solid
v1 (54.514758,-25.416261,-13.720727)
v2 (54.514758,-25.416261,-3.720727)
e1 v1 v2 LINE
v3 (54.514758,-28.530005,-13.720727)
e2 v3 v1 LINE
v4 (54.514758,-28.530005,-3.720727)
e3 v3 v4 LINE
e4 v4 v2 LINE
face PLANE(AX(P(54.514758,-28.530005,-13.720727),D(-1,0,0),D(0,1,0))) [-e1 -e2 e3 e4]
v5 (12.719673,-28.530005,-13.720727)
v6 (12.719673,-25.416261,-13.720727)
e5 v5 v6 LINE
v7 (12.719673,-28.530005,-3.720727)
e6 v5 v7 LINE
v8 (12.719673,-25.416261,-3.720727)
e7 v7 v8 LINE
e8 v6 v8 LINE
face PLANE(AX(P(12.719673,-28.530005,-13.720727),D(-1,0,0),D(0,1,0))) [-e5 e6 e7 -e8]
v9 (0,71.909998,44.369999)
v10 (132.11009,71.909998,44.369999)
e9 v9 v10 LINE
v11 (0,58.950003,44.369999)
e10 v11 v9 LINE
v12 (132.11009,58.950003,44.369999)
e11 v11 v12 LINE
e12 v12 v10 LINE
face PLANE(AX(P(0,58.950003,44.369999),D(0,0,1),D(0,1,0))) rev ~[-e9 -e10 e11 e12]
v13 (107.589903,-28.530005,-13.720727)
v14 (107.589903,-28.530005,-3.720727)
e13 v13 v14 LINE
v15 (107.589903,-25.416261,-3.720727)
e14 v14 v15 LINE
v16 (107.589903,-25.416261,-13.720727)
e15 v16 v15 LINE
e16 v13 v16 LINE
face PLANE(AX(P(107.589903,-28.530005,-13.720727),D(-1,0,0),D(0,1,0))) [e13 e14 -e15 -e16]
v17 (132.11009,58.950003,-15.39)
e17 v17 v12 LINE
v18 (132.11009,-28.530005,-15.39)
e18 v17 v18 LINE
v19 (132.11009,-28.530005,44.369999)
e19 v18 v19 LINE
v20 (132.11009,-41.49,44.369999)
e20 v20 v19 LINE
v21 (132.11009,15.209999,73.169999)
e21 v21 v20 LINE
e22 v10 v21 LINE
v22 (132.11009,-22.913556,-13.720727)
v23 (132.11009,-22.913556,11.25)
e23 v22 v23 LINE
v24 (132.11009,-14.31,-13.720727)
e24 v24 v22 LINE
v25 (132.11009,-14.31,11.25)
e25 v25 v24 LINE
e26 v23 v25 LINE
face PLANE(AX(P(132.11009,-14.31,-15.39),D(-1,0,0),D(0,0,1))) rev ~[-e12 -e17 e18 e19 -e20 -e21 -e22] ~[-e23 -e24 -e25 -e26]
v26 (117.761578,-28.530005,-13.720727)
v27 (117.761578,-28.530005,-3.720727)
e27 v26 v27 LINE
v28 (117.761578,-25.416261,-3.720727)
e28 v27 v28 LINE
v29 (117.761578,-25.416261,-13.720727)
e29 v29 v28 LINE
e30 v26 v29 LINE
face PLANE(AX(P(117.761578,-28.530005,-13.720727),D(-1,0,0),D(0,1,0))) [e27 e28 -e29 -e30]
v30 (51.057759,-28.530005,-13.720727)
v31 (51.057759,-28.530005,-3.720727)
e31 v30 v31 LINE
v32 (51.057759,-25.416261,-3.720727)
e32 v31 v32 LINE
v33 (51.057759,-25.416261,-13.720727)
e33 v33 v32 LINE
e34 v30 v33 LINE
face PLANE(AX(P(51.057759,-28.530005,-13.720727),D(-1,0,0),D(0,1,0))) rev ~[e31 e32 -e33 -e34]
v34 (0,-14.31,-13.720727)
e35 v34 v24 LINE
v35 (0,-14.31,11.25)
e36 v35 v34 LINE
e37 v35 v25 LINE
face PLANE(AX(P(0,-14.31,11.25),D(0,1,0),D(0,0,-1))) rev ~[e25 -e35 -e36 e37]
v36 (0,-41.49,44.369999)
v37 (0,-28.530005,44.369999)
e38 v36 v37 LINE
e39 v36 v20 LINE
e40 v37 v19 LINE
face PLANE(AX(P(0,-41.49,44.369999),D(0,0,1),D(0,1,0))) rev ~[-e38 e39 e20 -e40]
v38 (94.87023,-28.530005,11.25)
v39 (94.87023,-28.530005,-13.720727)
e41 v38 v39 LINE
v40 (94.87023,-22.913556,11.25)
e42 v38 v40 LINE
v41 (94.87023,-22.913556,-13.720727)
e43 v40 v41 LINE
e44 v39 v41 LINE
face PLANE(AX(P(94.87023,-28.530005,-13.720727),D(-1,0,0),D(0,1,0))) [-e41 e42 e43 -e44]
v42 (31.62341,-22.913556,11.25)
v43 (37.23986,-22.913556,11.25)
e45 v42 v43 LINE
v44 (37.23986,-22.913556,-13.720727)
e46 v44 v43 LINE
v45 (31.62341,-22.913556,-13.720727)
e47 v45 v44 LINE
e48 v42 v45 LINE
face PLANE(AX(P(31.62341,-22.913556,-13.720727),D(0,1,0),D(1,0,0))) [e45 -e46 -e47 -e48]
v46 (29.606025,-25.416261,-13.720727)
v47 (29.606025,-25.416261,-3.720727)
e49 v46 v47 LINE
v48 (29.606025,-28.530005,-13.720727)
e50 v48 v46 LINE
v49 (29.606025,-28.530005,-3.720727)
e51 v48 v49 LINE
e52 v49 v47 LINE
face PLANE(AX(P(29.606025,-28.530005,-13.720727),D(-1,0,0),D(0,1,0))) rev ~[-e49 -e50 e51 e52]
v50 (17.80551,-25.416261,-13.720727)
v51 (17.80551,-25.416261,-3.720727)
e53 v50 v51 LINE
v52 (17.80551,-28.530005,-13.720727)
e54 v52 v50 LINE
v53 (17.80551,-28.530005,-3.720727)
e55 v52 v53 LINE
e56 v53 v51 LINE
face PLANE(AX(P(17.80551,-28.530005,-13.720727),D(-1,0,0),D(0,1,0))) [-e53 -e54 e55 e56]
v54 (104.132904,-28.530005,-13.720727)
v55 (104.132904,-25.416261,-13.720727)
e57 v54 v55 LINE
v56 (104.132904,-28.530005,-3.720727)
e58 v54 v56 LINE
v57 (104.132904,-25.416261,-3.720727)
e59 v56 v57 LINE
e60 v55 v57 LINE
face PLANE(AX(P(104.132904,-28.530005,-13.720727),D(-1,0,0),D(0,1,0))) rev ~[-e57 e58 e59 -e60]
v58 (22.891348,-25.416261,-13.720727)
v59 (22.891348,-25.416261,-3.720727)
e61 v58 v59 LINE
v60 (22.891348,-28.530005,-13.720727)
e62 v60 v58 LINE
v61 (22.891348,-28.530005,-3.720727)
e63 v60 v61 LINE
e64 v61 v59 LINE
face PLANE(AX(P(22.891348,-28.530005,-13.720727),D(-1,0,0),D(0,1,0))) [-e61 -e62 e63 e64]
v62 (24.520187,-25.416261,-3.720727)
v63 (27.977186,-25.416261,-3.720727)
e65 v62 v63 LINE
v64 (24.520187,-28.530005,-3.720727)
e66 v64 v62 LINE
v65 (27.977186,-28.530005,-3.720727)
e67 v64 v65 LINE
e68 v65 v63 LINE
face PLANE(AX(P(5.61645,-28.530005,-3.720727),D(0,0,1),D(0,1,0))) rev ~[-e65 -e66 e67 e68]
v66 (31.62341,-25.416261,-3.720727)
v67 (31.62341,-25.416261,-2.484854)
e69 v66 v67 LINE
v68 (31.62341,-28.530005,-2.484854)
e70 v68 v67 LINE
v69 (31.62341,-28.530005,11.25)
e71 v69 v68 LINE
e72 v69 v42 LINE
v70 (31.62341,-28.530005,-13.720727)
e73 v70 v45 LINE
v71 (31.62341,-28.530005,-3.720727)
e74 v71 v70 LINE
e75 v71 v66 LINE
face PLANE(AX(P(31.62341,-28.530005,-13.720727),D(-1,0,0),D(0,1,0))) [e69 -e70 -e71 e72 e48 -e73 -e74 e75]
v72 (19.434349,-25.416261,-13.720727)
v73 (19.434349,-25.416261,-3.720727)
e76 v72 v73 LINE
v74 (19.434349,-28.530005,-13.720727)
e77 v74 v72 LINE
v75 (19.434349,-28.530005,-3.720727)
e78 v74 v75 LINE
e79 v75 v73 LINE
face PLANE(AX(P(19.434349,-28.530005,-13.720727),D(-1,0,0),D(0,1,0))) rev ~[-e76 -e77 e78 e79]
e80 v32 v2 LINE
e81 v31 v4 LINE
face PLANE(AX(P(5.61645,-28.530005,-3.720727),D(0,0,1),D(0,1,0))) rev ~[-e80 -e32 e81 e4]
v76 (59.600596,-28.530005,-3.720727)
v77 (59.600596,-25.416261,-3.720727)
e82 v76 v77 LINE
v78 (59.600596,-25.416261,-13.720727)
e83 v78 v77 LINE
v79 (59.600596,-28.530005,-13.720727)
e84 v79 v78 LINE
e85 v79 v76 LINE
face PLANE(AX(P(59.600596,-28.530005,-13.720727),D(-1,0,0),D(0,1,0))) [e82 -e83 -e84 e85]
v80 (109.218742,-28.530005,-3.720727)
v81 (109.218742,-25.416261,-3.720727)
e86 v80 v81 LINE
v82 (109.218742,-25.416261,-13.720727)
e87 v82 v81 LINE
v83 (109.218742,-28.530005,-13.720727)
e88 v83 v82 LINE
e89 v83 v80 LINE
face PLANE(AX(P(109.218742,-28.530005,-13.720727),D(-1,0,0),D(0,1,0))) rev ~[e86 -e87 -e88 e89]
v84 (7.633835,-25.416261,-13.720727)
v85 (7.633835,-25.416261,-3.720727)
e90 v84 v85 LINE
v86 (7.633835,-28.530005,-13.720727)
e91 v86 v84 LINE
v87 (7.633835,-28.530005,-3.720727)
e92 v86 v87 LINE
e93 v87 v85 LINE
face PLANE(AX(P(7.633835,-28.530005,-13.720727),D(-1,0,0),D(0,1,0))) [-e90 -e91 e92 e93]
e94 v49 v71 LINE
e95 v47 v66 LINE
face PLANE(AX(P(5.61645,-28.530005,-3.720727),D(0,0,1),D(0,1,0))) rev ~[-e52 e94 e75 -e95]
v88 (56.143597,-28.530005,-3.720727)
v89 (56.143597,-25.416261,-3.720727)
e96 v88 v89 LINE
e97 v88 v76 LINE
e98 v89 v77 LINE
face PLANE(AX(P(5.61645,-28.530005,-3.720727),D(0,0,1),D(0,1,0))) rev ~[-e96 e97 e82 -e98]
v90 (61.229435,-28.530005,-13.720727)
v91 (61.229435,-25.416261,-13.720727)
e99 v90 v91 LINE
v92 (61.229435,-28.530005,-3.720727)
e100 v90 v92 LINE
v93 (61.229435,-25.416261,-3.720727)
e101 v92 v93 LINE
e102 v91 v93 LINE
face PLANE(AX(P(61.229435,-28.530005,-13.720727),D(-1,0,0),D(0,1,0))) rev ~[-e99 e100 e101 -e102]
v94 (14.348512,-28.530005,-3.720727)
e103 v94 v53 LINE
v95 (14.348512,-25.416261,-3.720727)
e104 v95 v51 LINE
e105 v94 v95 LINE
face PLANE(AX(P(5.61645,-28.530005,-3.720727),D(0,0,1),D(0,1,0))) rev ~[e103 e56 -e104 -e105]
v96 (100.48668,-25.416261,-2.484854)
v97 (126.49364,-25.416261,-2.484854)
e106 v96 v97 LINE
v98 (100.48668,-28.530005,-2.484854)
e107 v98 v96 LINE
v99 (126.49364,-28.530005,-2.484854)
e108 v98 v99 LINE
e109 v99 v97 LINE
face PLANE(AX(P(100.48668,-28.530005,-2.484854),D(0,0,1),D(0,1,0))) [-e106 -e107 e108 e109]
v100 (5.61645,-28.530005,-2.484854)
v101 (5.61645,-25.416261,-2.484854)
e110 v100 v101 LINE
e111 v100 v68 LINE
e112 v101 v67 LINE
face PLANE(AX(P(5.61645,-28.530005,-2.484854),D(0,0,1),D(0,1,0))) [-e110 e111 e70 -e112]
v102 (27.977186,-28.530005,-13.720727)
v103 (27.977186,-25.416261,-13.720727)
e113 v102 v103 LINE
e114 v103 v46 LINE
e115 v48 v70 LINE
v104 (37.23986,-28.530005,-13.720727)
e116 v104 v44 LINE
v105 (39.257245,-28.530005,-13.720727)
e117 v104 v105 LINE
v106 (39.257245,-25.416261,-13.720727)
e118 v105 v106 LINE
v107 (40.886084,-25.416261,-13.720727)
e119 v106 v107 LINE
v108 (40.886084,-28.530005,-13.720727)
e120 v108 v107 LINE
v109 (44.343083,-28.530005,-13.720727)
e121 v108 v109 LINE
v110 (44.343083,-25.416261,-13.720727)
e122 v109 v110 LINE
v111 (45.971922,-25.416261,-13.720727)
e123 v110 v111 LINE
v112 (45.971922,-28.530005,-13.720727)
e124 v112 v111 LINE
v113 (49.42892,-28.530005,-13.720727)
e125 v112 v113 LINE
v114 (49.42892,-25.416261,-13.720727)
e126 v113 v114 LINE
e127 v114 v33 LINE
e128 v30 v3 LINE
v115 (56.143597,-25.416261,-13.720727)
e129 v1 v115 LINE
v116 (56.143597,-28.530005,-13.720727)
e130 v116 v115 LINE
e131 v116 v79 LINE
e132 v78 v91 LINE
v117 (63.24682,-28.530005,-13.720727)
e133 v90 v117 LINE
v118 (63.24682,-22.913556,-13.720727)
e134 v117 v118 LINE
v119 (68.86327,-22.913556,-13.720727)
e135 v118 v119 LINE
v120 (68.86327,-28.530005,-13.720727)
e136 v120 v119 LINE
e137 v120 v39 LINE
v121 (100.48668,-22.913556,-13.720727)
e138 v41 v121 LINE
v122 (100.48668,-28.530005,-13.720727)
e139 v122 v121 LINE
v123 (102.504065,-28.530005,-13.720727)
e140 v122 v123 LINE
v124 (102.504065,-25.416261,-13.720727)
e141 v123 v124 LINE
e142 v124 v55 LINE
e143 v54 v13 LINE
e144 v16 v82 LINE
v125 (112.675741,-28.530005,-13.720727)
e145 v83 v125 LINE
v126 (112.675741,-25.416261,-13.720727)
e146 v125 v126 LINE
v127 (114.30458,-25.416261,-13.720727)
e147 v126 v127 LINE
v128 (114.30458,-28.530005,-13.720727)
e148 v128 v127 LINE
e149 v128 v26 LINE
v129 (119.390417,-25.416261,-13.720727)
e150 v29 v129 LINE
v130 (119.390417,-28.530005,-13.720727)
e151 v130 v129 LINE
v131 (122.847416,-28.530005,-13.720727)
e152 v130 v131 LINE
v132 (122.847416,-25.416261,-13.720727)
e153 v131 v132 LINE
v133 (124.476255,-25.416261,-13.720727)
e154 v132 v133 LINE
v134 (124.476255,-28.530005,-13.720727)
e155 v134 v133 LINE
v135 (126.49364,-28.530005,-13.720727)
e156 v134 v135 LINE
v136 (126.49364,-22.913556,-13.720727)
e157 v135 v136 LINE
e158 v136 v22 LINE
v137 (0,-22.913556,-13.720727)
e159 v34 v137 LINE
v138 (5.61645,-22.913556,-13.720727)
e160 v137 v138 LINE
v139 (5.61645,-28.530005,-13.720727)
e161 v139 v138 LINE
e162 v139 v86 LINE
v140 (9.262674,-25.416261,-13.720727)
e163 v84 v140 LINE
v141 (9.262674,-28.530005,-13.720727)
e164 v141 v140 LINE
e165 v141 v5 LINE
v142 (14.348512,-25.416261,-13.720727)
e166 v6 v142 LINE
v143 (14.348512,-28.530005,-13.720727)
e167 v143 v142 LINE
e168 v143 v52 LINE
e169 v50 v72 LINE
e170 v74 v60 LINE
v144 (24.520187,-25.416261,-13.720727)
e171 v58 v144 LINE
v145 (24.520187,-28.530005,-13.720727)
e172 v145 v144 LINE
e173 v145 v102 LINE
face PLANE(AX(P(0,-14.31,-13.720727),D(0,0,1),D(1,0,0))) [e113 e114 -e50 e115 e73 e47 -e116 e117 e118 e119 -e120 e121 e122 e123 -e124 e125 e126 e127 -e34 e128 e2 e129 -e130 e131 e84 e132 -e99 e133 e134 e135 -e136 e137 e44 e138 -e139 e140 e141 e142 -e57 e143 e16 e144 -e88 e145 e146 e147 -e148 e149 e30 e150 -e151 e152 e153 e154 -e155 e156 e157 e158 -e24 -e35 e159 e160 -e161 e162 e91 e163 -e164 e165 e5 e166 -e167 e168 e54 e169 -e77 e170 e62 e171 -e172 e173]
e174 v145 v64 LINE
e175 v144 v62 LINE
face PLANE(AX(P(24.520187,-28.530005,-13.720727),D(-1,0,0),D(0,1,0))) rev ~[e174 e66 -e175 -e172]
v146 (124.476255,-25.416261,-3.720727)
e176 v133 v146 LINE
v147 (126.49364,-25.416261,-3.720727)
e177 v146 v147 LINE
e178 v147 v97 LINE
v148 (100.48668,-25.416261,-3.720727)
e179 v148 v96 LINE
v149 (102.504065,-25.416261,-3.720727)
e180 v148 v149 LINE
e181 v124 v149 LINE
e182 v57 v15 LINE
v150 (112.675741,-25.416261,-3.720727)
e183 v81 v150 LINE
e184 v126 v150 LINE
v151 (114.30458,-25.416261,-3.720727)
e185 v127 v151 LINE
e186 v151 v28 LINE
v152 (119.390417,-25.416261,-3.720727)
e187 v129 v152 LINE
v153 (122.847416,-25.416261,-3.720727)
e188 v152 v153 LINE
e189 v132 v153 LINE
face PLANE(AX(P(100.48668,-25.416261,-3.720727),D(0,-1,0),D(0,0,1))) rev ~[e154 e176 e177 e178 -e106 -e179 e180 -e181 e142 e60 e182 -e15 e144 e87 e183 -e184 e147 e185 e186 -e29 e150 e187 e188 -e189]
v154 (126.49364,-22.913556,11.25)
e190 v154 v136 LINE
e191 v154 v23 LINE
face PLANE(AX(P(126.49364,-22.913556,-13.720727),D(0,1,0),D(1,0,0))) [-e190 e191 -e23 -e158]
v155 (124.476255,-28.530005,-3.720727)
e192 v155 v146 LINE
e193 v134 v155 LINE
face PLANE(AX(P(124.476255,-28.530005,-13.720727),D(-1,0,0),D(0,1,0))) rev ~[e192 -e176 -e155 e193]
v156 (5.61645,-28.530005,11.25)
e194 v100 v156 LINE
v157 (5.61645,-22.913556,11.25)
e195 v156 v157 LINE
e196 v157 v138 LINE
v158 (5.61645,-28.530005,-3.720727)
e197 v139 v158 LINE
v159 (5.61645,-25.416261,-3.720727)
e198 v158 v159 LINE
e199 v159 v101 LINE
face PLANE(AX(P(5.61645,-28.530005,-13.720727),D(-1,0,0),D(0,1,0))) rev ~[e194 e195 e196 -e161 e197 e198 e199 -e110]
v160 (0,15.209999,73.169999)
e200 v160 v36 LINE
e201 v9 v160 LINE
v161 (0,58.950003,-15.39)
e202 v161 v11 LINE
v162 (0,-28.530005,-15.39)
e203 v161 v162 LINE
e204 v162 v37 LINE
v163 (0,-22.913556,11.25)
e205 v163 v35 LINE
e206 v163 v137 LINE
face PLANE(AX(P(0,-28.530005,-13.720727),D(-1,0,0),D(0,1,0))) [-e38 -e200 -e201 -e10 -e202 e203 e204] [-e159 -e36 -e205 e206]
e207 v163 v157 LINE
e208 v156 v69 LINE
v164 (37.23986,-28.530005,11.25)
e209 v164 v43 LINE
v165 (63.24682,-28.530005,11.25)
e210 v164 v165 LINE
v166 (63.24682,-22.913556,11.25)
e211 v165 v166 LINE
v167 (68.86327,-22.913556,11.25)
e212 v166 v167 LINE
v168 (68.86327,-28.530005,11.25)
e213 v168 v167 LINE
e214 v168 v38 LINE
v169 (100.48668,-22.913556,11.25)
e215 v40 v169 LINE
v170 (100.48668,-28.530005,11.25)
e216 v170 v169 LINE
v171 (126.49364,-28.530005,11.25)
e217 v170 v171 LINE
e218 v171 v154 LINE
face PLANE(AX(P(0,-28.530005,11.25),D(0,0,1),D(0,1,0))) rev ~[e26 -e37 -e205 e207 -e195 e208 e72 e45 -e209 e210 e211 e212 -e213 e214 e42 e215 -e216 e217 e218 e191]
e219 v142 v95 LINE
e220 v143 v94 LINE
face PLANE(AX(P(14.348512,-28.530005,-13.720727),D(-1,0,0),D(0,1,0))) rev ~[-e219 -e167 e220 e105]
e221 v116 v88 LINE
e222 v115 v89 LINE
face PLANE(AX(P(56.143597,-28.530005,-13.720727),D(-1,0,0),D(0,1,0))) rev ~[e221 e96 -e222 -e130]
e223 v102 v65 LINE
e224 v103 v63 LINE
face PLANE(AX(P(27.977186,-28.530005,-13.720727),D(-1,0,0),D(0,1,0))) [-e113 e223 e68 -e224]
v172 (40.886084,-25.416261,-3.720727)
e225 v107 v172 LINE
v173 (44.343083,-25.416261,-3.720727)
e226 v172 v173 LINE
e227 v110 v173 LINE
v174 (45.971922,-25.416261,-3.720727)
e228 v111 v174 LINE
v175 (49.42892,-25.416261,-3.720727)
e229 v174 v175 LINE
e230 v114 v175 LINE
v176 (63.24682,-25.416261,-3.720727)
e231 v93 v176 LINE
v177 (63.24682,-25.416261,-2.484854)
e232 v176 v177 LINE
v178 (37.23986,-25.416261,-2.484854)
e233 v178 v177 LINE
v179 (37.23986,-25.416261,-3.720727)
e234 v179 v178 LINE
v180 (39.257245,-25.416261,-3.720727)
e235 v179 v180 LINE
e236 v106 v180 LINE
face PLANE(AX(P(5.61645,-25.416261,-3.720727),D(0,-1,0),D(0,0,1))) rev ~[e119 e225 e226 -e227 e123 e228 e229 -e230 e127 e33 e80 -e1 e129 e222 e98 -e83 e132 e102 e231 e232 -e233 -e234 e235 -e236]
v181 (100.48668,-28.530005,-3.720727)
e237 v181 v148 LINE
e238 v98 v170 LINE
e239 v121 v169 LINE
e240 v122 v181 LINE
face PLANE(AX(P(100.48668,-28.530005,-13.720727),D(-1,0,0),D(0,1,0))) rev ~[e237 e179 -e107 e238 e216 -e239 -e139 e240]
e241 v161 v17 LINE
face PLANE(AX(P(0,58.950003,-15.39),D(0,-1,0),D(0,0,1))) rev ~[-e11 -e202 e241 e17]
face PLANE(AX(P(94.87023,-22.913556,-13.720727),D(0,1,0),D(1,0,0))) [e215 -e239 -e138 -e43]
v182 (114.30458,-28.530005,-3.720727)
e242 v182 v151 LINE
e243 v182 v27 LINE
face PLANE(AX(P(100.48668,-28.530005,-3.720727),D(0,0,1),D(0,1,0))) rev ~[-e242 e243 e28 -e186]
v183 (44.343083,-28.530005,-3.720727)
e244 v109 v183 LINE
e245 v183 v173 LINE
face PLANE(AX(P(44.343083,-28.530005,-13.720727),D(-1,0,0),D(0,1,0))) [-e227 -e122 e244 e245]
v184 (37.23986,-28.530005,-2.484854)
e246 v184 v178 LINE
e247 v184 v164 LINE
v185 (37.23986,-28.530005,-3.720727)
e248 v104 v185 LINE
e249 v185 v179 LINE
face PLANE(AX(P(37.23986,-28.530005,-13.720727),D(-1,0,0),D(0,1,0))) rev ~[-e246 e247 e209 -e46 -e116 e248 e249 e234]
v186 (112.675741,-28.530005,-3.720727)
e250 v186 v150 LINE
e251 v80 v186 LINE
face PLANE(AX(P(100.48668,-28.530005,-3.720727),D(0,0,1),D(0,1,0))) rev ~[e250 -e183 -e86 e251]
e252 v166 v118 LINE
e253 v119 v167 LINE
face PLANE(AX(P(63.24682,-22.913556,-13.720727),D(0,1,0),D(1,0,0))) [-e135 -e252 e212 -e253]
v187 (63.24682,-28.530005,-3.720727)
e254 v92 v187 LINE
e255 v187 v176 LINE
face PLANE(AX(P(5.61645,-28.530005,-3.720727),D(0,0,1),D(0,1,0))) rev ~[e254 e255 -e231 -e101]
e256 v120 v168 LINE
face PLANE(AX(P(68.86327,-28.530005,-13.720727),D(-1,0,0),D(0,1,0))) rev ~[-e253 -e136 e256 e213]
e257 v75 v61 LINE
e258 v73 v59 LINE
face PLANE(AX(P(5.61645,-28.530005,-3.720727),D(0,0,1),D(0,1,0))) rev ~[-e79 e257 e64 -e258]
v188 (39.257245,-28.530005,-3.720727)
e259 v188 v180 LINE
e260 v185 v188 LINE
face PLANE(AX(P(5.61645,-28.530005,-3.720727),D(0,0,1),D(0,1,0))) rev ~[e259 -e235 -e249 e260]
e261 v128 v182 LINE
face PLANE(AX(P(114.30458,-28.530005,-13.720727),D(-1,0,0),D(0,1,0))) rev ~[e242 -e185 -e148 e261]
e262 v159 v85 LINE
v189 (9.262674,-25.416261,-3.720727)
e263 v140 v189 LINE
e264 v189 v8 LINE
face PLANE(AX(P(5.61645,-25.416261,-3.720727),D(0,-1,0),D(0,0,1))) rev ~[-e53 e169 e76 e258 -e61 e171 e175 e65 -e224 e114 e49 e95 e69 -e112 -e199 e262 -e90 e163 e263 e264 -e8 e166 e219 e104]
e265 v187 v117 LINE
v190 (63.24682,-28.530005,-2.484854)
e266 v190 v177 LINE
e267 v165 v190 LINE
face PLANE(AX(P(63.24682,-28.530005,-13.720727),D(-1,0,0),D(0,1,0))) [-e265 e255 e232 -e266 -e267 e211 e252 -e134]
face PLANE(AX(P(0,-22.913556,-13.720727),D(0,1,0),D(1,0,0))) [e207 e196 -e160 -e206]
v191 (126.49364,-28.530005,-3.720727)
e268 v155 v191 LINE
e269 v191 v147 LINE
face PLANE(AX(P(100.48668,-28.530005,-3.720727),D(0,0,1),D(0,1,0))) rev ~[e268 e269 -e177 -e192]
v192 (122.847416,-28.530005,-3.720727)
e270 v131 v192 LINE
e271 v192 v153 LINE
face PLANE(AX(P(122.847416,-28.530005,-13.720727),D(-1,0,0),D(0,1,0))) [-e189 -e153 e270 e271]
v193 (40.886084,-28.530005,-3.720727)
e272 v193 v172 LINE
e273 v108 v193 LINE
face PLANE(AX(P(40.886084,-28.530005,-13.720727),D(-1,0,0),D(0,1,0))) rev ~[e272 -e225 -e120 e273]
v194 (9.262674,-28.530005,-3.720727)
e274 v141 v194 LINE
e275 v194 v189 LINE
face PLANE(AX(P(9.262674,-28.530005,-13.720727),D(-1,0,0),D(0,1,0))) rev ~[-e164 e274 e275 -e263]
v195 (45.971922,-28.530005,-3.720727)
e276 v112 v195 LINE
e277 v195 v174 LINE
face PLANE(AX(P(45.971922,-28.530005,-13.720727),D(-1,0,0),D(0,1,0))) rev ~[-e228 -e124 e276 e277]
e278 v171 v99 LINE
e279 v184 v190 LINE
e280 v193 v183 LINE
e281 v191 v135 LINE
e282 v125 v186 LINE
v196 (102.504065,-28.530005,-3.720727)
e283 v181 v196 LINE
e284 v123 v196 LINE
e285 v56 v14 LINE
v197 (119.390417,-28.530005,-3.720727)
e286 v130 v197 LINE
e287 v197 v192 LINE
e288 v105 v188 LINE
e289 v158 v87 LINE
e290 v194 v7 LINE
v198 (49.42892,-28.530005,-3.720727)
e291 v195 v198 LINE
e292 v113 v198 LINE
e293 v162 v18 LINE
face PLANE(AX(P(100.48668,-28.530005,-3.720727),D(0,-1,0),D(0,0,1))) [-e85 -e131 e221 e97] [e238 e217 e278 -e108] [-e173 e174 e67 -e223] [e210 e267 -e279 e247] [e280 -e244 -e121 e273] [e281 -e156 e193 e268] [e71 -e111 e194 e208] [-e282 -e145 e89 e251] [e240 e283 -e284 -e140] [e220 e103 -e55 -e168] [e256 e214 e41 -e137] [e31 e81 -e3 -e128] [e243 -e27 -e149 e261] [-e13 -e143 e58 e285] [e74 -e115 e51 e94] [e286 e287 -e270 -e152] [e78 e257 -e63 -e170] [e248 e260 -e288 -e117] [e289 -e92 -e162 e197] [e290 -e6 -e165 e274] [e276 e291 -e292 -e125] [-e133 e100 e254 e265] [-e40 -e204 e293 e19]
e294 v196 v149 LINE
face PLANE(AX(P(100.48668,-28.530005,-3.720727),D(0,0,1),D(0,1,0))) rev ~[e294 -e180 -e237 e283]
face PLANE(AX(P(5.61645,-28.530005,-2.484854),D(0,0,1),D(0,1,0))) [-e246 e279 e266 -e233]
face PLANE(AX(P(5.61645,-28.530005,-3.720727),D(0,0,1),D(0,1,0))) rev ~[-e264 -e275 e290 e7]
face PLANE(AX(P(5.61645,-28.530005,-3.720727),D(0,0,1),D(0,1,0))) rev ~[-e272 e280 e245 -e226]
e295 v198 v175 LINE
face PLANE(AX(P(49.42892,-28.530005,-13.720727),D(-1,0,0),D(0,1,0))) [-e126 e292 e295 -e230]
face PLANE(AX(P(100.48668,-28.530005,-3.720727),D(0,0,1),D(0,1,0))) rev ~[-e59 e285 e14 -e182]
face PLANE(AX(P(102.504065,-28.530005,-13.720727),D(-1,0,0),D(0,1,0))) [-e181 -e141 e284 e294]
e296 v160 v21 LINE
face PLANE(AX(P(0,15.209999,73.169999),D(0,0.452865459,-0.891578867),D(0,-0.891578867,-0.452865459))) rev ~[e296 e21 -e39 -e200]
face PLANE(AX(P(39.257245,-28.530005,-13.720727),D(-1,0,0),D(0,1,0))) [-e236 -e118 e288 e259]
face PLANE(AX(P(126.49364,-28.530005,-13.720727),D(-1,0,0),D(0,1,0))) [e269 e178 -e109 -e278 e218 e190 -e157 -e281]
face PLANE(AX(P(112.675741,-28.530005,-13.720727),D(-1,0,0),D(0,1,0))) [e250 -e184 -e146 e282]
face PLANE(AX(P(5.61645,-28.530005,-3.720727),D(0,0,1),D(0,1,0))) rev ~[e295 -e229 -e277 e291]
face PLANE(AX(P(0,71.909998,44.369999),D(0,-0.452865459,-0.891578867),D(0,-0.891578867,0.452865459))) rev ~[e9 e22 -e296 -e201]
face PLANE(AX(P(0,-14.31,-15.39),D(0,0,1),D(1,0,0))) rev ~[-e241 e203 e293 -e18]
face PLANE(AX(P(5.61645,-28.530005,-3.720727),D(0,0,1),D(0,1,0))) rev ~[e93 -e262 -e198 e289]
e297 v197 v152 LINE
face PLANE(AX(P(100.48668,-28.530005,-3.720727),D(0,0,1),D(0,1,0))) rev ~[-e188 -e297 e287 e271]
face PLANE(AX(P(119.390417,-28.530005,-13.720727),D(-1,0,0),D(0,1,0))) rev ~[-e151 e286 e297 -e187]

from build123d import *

# Parameters (mm, degrees)
F1_DEPTH  = 132.11009
F2_W      = 132.11009
F2_H      = 1.6692737117
F3_DEPTH  = 14.2200058326
F4_W      = 5.6164497176
F4_H      = 5.6164497176
F5_DEPTH  = 24.97072611
F4_W_2    = 1.6288390616
F4_H_2    = 3.1137447804
F6_DEPTH  = 10
F7_W      = 3.1137447804
F7_H      = 1.2358725164
F8_DEPTH  = 57.6303704236
F9_W      = 3.1137447804
F9_H      = 1.2358725164
F10_DEPTH = 26.006960353


with BuildPart() as f1:
    # F0 (on Right) → F1 (new body)
    with BuildSketch(Plane.YZ):
        Polygon((-41.4899997413, 44.3699993193), (-28.5300053656, 44.3699993193), (58.9500032365, 44.3699993193), (71.9099976122, 44.3699993193), (15.2099989355, 73.1699988246), align=None)
        Polygon((-14.309999533, 11.2499995157), (-14.309999533, -15.3900003061), (58.9500032365, -15.3900003061), (58.9500032365, 44.3699993193), (-28.5300053656, 44.3699993193), (-28.5300053656, 11.2499995157), align=None)
    extrude(amount=F1_DEPTH)

    # F2 (on face) → F3 (join, through all)
    with BuildSketch(Plane.XZ.offset(14.309999533)):
        with Locations((66.055045, -14.5553634502)):
            Rectangle(F2_W, F2_H)
    extrude(amount=F3_DEPTH)

    # F4 (on face) → F5 (join, through all)
    with BuildSketch(Plane.XY.offset(-13.7207265943)):
        with Locations((2.8082248588, -25.7217805068)):
            Rectangle(F4_W, F4_H)
        with Locations((34.4316349294, -25.7217805068)):
            Rectangle(F4_W, F4_H)
        with Locations((66.055045, -25.7217805068)):
            Rectangle(F4_W, F4_H)
        with Locations((97.6784550706, -25.7217805068)):
            Rectangle(F4_W, F4_H)
        with Locations((129.3018651412, -25.7217805068)):
            Rectangle(F4_W, F4_H)
    extrude(amount=F5_DEPTH)

    # F4 (on face) → F6 (join)
    with BuildSketch(Plane.XY.offset(-13.7207265943)):
        with Locations((2.8082248588, -25.7217805068)):
            Rectangle(F4_W, F4_H)
        with Locations((34.4316349294, -25.7217805068)):
            Rectangle(F4_W, F4_H)
        with Locations((66.055045, -25.7217805068)):
            Rectangle(F4_W, F4_H)
        with Locations((97.6784550706, -25.7217805068)):
            Rectangle(F4_W, F4_H)
        with Locations((129.3018651412, -25.7217805068)):
            Rectangle(F4_W, F4_H)
        with Locations((8.4482542712, -26.9731329754)):
            Rectangle(F4_W_2, F4_H_2)
        with Locations((13.5340920827, -26.9731329754)):
            Rectangle(F4_W_2, F4_H_2)
        with Locations((18.6199298941, -26.9731329754)):
            Rectangle(F4_W_2, F4_H_2)
        with Locations((23.7057677055, -26.9731329754)):
            Rectangle(F4_W_2, F4_H_2)
        with Locations((28.791605517, -26.9731329754)):
            Rectangle(F4_W_2, F4_H_2)
        with Locations((45.1575021533, -26.9731329754)):
            Rectangle(F4_W_2, F4_H_2)
        with Locations((50.2433399647, -26.9731329754)):
            Rectangle(F4_W_2, F4_H_2)
        with Locations((55.3291777761, -26.9731329754)):
            Rectangle(F4_W_2, F4_H_2)
        with Locations((60.4150155876, -26.9731329754)):
            Rectangle(F4_W_2, F4_H_2)
        with Locations((40.0716643418, -26.9731329754)):
            Rectangle(F4_W_2, F4_H_2)
        with Locations((108.4043222945, -26.9731329754)):
            Rectangle(F4_W_2, F4_H_2)
        with Locations((113.4901601059, -26.9731329754)):
            Rectangle(F4_W_2, F4_H_2)
        with Locations((118.5759979173, -26.9731329754)):
            Rectangle(F4_W_2, F4_H_2)
        with Locations((123.6618357288, -26.9731329754)):
            Rectangle(F4_W_2, F4_H_2)
        with Locations((103.318484483, -26.9731329754)):
            Rectangle(F4_W_2, F4_H_2)
    extrude(amount=F6_DEPTH)

    # F7 (on face) → F8 (join, through all)
    with BuildSketch(Plane.YZ.offset(5.6164497176)):
        with Locations((-26.9731329754, -3.1027903361)):
            Rectangle(F7_W, F7_H)
    extrude(amount=F8_DEPTH)

    # F9 (on face) → F10 (join, through all)
    with BuildSketch(Plane.YZ.offset(100.4866799294)):
        with Locations((-26.9731329754, -3.1027903361)):
            Rectangle(F9_W, F9_H)
    extrude(amount=F10_DEPTH)


solid = f1.part
